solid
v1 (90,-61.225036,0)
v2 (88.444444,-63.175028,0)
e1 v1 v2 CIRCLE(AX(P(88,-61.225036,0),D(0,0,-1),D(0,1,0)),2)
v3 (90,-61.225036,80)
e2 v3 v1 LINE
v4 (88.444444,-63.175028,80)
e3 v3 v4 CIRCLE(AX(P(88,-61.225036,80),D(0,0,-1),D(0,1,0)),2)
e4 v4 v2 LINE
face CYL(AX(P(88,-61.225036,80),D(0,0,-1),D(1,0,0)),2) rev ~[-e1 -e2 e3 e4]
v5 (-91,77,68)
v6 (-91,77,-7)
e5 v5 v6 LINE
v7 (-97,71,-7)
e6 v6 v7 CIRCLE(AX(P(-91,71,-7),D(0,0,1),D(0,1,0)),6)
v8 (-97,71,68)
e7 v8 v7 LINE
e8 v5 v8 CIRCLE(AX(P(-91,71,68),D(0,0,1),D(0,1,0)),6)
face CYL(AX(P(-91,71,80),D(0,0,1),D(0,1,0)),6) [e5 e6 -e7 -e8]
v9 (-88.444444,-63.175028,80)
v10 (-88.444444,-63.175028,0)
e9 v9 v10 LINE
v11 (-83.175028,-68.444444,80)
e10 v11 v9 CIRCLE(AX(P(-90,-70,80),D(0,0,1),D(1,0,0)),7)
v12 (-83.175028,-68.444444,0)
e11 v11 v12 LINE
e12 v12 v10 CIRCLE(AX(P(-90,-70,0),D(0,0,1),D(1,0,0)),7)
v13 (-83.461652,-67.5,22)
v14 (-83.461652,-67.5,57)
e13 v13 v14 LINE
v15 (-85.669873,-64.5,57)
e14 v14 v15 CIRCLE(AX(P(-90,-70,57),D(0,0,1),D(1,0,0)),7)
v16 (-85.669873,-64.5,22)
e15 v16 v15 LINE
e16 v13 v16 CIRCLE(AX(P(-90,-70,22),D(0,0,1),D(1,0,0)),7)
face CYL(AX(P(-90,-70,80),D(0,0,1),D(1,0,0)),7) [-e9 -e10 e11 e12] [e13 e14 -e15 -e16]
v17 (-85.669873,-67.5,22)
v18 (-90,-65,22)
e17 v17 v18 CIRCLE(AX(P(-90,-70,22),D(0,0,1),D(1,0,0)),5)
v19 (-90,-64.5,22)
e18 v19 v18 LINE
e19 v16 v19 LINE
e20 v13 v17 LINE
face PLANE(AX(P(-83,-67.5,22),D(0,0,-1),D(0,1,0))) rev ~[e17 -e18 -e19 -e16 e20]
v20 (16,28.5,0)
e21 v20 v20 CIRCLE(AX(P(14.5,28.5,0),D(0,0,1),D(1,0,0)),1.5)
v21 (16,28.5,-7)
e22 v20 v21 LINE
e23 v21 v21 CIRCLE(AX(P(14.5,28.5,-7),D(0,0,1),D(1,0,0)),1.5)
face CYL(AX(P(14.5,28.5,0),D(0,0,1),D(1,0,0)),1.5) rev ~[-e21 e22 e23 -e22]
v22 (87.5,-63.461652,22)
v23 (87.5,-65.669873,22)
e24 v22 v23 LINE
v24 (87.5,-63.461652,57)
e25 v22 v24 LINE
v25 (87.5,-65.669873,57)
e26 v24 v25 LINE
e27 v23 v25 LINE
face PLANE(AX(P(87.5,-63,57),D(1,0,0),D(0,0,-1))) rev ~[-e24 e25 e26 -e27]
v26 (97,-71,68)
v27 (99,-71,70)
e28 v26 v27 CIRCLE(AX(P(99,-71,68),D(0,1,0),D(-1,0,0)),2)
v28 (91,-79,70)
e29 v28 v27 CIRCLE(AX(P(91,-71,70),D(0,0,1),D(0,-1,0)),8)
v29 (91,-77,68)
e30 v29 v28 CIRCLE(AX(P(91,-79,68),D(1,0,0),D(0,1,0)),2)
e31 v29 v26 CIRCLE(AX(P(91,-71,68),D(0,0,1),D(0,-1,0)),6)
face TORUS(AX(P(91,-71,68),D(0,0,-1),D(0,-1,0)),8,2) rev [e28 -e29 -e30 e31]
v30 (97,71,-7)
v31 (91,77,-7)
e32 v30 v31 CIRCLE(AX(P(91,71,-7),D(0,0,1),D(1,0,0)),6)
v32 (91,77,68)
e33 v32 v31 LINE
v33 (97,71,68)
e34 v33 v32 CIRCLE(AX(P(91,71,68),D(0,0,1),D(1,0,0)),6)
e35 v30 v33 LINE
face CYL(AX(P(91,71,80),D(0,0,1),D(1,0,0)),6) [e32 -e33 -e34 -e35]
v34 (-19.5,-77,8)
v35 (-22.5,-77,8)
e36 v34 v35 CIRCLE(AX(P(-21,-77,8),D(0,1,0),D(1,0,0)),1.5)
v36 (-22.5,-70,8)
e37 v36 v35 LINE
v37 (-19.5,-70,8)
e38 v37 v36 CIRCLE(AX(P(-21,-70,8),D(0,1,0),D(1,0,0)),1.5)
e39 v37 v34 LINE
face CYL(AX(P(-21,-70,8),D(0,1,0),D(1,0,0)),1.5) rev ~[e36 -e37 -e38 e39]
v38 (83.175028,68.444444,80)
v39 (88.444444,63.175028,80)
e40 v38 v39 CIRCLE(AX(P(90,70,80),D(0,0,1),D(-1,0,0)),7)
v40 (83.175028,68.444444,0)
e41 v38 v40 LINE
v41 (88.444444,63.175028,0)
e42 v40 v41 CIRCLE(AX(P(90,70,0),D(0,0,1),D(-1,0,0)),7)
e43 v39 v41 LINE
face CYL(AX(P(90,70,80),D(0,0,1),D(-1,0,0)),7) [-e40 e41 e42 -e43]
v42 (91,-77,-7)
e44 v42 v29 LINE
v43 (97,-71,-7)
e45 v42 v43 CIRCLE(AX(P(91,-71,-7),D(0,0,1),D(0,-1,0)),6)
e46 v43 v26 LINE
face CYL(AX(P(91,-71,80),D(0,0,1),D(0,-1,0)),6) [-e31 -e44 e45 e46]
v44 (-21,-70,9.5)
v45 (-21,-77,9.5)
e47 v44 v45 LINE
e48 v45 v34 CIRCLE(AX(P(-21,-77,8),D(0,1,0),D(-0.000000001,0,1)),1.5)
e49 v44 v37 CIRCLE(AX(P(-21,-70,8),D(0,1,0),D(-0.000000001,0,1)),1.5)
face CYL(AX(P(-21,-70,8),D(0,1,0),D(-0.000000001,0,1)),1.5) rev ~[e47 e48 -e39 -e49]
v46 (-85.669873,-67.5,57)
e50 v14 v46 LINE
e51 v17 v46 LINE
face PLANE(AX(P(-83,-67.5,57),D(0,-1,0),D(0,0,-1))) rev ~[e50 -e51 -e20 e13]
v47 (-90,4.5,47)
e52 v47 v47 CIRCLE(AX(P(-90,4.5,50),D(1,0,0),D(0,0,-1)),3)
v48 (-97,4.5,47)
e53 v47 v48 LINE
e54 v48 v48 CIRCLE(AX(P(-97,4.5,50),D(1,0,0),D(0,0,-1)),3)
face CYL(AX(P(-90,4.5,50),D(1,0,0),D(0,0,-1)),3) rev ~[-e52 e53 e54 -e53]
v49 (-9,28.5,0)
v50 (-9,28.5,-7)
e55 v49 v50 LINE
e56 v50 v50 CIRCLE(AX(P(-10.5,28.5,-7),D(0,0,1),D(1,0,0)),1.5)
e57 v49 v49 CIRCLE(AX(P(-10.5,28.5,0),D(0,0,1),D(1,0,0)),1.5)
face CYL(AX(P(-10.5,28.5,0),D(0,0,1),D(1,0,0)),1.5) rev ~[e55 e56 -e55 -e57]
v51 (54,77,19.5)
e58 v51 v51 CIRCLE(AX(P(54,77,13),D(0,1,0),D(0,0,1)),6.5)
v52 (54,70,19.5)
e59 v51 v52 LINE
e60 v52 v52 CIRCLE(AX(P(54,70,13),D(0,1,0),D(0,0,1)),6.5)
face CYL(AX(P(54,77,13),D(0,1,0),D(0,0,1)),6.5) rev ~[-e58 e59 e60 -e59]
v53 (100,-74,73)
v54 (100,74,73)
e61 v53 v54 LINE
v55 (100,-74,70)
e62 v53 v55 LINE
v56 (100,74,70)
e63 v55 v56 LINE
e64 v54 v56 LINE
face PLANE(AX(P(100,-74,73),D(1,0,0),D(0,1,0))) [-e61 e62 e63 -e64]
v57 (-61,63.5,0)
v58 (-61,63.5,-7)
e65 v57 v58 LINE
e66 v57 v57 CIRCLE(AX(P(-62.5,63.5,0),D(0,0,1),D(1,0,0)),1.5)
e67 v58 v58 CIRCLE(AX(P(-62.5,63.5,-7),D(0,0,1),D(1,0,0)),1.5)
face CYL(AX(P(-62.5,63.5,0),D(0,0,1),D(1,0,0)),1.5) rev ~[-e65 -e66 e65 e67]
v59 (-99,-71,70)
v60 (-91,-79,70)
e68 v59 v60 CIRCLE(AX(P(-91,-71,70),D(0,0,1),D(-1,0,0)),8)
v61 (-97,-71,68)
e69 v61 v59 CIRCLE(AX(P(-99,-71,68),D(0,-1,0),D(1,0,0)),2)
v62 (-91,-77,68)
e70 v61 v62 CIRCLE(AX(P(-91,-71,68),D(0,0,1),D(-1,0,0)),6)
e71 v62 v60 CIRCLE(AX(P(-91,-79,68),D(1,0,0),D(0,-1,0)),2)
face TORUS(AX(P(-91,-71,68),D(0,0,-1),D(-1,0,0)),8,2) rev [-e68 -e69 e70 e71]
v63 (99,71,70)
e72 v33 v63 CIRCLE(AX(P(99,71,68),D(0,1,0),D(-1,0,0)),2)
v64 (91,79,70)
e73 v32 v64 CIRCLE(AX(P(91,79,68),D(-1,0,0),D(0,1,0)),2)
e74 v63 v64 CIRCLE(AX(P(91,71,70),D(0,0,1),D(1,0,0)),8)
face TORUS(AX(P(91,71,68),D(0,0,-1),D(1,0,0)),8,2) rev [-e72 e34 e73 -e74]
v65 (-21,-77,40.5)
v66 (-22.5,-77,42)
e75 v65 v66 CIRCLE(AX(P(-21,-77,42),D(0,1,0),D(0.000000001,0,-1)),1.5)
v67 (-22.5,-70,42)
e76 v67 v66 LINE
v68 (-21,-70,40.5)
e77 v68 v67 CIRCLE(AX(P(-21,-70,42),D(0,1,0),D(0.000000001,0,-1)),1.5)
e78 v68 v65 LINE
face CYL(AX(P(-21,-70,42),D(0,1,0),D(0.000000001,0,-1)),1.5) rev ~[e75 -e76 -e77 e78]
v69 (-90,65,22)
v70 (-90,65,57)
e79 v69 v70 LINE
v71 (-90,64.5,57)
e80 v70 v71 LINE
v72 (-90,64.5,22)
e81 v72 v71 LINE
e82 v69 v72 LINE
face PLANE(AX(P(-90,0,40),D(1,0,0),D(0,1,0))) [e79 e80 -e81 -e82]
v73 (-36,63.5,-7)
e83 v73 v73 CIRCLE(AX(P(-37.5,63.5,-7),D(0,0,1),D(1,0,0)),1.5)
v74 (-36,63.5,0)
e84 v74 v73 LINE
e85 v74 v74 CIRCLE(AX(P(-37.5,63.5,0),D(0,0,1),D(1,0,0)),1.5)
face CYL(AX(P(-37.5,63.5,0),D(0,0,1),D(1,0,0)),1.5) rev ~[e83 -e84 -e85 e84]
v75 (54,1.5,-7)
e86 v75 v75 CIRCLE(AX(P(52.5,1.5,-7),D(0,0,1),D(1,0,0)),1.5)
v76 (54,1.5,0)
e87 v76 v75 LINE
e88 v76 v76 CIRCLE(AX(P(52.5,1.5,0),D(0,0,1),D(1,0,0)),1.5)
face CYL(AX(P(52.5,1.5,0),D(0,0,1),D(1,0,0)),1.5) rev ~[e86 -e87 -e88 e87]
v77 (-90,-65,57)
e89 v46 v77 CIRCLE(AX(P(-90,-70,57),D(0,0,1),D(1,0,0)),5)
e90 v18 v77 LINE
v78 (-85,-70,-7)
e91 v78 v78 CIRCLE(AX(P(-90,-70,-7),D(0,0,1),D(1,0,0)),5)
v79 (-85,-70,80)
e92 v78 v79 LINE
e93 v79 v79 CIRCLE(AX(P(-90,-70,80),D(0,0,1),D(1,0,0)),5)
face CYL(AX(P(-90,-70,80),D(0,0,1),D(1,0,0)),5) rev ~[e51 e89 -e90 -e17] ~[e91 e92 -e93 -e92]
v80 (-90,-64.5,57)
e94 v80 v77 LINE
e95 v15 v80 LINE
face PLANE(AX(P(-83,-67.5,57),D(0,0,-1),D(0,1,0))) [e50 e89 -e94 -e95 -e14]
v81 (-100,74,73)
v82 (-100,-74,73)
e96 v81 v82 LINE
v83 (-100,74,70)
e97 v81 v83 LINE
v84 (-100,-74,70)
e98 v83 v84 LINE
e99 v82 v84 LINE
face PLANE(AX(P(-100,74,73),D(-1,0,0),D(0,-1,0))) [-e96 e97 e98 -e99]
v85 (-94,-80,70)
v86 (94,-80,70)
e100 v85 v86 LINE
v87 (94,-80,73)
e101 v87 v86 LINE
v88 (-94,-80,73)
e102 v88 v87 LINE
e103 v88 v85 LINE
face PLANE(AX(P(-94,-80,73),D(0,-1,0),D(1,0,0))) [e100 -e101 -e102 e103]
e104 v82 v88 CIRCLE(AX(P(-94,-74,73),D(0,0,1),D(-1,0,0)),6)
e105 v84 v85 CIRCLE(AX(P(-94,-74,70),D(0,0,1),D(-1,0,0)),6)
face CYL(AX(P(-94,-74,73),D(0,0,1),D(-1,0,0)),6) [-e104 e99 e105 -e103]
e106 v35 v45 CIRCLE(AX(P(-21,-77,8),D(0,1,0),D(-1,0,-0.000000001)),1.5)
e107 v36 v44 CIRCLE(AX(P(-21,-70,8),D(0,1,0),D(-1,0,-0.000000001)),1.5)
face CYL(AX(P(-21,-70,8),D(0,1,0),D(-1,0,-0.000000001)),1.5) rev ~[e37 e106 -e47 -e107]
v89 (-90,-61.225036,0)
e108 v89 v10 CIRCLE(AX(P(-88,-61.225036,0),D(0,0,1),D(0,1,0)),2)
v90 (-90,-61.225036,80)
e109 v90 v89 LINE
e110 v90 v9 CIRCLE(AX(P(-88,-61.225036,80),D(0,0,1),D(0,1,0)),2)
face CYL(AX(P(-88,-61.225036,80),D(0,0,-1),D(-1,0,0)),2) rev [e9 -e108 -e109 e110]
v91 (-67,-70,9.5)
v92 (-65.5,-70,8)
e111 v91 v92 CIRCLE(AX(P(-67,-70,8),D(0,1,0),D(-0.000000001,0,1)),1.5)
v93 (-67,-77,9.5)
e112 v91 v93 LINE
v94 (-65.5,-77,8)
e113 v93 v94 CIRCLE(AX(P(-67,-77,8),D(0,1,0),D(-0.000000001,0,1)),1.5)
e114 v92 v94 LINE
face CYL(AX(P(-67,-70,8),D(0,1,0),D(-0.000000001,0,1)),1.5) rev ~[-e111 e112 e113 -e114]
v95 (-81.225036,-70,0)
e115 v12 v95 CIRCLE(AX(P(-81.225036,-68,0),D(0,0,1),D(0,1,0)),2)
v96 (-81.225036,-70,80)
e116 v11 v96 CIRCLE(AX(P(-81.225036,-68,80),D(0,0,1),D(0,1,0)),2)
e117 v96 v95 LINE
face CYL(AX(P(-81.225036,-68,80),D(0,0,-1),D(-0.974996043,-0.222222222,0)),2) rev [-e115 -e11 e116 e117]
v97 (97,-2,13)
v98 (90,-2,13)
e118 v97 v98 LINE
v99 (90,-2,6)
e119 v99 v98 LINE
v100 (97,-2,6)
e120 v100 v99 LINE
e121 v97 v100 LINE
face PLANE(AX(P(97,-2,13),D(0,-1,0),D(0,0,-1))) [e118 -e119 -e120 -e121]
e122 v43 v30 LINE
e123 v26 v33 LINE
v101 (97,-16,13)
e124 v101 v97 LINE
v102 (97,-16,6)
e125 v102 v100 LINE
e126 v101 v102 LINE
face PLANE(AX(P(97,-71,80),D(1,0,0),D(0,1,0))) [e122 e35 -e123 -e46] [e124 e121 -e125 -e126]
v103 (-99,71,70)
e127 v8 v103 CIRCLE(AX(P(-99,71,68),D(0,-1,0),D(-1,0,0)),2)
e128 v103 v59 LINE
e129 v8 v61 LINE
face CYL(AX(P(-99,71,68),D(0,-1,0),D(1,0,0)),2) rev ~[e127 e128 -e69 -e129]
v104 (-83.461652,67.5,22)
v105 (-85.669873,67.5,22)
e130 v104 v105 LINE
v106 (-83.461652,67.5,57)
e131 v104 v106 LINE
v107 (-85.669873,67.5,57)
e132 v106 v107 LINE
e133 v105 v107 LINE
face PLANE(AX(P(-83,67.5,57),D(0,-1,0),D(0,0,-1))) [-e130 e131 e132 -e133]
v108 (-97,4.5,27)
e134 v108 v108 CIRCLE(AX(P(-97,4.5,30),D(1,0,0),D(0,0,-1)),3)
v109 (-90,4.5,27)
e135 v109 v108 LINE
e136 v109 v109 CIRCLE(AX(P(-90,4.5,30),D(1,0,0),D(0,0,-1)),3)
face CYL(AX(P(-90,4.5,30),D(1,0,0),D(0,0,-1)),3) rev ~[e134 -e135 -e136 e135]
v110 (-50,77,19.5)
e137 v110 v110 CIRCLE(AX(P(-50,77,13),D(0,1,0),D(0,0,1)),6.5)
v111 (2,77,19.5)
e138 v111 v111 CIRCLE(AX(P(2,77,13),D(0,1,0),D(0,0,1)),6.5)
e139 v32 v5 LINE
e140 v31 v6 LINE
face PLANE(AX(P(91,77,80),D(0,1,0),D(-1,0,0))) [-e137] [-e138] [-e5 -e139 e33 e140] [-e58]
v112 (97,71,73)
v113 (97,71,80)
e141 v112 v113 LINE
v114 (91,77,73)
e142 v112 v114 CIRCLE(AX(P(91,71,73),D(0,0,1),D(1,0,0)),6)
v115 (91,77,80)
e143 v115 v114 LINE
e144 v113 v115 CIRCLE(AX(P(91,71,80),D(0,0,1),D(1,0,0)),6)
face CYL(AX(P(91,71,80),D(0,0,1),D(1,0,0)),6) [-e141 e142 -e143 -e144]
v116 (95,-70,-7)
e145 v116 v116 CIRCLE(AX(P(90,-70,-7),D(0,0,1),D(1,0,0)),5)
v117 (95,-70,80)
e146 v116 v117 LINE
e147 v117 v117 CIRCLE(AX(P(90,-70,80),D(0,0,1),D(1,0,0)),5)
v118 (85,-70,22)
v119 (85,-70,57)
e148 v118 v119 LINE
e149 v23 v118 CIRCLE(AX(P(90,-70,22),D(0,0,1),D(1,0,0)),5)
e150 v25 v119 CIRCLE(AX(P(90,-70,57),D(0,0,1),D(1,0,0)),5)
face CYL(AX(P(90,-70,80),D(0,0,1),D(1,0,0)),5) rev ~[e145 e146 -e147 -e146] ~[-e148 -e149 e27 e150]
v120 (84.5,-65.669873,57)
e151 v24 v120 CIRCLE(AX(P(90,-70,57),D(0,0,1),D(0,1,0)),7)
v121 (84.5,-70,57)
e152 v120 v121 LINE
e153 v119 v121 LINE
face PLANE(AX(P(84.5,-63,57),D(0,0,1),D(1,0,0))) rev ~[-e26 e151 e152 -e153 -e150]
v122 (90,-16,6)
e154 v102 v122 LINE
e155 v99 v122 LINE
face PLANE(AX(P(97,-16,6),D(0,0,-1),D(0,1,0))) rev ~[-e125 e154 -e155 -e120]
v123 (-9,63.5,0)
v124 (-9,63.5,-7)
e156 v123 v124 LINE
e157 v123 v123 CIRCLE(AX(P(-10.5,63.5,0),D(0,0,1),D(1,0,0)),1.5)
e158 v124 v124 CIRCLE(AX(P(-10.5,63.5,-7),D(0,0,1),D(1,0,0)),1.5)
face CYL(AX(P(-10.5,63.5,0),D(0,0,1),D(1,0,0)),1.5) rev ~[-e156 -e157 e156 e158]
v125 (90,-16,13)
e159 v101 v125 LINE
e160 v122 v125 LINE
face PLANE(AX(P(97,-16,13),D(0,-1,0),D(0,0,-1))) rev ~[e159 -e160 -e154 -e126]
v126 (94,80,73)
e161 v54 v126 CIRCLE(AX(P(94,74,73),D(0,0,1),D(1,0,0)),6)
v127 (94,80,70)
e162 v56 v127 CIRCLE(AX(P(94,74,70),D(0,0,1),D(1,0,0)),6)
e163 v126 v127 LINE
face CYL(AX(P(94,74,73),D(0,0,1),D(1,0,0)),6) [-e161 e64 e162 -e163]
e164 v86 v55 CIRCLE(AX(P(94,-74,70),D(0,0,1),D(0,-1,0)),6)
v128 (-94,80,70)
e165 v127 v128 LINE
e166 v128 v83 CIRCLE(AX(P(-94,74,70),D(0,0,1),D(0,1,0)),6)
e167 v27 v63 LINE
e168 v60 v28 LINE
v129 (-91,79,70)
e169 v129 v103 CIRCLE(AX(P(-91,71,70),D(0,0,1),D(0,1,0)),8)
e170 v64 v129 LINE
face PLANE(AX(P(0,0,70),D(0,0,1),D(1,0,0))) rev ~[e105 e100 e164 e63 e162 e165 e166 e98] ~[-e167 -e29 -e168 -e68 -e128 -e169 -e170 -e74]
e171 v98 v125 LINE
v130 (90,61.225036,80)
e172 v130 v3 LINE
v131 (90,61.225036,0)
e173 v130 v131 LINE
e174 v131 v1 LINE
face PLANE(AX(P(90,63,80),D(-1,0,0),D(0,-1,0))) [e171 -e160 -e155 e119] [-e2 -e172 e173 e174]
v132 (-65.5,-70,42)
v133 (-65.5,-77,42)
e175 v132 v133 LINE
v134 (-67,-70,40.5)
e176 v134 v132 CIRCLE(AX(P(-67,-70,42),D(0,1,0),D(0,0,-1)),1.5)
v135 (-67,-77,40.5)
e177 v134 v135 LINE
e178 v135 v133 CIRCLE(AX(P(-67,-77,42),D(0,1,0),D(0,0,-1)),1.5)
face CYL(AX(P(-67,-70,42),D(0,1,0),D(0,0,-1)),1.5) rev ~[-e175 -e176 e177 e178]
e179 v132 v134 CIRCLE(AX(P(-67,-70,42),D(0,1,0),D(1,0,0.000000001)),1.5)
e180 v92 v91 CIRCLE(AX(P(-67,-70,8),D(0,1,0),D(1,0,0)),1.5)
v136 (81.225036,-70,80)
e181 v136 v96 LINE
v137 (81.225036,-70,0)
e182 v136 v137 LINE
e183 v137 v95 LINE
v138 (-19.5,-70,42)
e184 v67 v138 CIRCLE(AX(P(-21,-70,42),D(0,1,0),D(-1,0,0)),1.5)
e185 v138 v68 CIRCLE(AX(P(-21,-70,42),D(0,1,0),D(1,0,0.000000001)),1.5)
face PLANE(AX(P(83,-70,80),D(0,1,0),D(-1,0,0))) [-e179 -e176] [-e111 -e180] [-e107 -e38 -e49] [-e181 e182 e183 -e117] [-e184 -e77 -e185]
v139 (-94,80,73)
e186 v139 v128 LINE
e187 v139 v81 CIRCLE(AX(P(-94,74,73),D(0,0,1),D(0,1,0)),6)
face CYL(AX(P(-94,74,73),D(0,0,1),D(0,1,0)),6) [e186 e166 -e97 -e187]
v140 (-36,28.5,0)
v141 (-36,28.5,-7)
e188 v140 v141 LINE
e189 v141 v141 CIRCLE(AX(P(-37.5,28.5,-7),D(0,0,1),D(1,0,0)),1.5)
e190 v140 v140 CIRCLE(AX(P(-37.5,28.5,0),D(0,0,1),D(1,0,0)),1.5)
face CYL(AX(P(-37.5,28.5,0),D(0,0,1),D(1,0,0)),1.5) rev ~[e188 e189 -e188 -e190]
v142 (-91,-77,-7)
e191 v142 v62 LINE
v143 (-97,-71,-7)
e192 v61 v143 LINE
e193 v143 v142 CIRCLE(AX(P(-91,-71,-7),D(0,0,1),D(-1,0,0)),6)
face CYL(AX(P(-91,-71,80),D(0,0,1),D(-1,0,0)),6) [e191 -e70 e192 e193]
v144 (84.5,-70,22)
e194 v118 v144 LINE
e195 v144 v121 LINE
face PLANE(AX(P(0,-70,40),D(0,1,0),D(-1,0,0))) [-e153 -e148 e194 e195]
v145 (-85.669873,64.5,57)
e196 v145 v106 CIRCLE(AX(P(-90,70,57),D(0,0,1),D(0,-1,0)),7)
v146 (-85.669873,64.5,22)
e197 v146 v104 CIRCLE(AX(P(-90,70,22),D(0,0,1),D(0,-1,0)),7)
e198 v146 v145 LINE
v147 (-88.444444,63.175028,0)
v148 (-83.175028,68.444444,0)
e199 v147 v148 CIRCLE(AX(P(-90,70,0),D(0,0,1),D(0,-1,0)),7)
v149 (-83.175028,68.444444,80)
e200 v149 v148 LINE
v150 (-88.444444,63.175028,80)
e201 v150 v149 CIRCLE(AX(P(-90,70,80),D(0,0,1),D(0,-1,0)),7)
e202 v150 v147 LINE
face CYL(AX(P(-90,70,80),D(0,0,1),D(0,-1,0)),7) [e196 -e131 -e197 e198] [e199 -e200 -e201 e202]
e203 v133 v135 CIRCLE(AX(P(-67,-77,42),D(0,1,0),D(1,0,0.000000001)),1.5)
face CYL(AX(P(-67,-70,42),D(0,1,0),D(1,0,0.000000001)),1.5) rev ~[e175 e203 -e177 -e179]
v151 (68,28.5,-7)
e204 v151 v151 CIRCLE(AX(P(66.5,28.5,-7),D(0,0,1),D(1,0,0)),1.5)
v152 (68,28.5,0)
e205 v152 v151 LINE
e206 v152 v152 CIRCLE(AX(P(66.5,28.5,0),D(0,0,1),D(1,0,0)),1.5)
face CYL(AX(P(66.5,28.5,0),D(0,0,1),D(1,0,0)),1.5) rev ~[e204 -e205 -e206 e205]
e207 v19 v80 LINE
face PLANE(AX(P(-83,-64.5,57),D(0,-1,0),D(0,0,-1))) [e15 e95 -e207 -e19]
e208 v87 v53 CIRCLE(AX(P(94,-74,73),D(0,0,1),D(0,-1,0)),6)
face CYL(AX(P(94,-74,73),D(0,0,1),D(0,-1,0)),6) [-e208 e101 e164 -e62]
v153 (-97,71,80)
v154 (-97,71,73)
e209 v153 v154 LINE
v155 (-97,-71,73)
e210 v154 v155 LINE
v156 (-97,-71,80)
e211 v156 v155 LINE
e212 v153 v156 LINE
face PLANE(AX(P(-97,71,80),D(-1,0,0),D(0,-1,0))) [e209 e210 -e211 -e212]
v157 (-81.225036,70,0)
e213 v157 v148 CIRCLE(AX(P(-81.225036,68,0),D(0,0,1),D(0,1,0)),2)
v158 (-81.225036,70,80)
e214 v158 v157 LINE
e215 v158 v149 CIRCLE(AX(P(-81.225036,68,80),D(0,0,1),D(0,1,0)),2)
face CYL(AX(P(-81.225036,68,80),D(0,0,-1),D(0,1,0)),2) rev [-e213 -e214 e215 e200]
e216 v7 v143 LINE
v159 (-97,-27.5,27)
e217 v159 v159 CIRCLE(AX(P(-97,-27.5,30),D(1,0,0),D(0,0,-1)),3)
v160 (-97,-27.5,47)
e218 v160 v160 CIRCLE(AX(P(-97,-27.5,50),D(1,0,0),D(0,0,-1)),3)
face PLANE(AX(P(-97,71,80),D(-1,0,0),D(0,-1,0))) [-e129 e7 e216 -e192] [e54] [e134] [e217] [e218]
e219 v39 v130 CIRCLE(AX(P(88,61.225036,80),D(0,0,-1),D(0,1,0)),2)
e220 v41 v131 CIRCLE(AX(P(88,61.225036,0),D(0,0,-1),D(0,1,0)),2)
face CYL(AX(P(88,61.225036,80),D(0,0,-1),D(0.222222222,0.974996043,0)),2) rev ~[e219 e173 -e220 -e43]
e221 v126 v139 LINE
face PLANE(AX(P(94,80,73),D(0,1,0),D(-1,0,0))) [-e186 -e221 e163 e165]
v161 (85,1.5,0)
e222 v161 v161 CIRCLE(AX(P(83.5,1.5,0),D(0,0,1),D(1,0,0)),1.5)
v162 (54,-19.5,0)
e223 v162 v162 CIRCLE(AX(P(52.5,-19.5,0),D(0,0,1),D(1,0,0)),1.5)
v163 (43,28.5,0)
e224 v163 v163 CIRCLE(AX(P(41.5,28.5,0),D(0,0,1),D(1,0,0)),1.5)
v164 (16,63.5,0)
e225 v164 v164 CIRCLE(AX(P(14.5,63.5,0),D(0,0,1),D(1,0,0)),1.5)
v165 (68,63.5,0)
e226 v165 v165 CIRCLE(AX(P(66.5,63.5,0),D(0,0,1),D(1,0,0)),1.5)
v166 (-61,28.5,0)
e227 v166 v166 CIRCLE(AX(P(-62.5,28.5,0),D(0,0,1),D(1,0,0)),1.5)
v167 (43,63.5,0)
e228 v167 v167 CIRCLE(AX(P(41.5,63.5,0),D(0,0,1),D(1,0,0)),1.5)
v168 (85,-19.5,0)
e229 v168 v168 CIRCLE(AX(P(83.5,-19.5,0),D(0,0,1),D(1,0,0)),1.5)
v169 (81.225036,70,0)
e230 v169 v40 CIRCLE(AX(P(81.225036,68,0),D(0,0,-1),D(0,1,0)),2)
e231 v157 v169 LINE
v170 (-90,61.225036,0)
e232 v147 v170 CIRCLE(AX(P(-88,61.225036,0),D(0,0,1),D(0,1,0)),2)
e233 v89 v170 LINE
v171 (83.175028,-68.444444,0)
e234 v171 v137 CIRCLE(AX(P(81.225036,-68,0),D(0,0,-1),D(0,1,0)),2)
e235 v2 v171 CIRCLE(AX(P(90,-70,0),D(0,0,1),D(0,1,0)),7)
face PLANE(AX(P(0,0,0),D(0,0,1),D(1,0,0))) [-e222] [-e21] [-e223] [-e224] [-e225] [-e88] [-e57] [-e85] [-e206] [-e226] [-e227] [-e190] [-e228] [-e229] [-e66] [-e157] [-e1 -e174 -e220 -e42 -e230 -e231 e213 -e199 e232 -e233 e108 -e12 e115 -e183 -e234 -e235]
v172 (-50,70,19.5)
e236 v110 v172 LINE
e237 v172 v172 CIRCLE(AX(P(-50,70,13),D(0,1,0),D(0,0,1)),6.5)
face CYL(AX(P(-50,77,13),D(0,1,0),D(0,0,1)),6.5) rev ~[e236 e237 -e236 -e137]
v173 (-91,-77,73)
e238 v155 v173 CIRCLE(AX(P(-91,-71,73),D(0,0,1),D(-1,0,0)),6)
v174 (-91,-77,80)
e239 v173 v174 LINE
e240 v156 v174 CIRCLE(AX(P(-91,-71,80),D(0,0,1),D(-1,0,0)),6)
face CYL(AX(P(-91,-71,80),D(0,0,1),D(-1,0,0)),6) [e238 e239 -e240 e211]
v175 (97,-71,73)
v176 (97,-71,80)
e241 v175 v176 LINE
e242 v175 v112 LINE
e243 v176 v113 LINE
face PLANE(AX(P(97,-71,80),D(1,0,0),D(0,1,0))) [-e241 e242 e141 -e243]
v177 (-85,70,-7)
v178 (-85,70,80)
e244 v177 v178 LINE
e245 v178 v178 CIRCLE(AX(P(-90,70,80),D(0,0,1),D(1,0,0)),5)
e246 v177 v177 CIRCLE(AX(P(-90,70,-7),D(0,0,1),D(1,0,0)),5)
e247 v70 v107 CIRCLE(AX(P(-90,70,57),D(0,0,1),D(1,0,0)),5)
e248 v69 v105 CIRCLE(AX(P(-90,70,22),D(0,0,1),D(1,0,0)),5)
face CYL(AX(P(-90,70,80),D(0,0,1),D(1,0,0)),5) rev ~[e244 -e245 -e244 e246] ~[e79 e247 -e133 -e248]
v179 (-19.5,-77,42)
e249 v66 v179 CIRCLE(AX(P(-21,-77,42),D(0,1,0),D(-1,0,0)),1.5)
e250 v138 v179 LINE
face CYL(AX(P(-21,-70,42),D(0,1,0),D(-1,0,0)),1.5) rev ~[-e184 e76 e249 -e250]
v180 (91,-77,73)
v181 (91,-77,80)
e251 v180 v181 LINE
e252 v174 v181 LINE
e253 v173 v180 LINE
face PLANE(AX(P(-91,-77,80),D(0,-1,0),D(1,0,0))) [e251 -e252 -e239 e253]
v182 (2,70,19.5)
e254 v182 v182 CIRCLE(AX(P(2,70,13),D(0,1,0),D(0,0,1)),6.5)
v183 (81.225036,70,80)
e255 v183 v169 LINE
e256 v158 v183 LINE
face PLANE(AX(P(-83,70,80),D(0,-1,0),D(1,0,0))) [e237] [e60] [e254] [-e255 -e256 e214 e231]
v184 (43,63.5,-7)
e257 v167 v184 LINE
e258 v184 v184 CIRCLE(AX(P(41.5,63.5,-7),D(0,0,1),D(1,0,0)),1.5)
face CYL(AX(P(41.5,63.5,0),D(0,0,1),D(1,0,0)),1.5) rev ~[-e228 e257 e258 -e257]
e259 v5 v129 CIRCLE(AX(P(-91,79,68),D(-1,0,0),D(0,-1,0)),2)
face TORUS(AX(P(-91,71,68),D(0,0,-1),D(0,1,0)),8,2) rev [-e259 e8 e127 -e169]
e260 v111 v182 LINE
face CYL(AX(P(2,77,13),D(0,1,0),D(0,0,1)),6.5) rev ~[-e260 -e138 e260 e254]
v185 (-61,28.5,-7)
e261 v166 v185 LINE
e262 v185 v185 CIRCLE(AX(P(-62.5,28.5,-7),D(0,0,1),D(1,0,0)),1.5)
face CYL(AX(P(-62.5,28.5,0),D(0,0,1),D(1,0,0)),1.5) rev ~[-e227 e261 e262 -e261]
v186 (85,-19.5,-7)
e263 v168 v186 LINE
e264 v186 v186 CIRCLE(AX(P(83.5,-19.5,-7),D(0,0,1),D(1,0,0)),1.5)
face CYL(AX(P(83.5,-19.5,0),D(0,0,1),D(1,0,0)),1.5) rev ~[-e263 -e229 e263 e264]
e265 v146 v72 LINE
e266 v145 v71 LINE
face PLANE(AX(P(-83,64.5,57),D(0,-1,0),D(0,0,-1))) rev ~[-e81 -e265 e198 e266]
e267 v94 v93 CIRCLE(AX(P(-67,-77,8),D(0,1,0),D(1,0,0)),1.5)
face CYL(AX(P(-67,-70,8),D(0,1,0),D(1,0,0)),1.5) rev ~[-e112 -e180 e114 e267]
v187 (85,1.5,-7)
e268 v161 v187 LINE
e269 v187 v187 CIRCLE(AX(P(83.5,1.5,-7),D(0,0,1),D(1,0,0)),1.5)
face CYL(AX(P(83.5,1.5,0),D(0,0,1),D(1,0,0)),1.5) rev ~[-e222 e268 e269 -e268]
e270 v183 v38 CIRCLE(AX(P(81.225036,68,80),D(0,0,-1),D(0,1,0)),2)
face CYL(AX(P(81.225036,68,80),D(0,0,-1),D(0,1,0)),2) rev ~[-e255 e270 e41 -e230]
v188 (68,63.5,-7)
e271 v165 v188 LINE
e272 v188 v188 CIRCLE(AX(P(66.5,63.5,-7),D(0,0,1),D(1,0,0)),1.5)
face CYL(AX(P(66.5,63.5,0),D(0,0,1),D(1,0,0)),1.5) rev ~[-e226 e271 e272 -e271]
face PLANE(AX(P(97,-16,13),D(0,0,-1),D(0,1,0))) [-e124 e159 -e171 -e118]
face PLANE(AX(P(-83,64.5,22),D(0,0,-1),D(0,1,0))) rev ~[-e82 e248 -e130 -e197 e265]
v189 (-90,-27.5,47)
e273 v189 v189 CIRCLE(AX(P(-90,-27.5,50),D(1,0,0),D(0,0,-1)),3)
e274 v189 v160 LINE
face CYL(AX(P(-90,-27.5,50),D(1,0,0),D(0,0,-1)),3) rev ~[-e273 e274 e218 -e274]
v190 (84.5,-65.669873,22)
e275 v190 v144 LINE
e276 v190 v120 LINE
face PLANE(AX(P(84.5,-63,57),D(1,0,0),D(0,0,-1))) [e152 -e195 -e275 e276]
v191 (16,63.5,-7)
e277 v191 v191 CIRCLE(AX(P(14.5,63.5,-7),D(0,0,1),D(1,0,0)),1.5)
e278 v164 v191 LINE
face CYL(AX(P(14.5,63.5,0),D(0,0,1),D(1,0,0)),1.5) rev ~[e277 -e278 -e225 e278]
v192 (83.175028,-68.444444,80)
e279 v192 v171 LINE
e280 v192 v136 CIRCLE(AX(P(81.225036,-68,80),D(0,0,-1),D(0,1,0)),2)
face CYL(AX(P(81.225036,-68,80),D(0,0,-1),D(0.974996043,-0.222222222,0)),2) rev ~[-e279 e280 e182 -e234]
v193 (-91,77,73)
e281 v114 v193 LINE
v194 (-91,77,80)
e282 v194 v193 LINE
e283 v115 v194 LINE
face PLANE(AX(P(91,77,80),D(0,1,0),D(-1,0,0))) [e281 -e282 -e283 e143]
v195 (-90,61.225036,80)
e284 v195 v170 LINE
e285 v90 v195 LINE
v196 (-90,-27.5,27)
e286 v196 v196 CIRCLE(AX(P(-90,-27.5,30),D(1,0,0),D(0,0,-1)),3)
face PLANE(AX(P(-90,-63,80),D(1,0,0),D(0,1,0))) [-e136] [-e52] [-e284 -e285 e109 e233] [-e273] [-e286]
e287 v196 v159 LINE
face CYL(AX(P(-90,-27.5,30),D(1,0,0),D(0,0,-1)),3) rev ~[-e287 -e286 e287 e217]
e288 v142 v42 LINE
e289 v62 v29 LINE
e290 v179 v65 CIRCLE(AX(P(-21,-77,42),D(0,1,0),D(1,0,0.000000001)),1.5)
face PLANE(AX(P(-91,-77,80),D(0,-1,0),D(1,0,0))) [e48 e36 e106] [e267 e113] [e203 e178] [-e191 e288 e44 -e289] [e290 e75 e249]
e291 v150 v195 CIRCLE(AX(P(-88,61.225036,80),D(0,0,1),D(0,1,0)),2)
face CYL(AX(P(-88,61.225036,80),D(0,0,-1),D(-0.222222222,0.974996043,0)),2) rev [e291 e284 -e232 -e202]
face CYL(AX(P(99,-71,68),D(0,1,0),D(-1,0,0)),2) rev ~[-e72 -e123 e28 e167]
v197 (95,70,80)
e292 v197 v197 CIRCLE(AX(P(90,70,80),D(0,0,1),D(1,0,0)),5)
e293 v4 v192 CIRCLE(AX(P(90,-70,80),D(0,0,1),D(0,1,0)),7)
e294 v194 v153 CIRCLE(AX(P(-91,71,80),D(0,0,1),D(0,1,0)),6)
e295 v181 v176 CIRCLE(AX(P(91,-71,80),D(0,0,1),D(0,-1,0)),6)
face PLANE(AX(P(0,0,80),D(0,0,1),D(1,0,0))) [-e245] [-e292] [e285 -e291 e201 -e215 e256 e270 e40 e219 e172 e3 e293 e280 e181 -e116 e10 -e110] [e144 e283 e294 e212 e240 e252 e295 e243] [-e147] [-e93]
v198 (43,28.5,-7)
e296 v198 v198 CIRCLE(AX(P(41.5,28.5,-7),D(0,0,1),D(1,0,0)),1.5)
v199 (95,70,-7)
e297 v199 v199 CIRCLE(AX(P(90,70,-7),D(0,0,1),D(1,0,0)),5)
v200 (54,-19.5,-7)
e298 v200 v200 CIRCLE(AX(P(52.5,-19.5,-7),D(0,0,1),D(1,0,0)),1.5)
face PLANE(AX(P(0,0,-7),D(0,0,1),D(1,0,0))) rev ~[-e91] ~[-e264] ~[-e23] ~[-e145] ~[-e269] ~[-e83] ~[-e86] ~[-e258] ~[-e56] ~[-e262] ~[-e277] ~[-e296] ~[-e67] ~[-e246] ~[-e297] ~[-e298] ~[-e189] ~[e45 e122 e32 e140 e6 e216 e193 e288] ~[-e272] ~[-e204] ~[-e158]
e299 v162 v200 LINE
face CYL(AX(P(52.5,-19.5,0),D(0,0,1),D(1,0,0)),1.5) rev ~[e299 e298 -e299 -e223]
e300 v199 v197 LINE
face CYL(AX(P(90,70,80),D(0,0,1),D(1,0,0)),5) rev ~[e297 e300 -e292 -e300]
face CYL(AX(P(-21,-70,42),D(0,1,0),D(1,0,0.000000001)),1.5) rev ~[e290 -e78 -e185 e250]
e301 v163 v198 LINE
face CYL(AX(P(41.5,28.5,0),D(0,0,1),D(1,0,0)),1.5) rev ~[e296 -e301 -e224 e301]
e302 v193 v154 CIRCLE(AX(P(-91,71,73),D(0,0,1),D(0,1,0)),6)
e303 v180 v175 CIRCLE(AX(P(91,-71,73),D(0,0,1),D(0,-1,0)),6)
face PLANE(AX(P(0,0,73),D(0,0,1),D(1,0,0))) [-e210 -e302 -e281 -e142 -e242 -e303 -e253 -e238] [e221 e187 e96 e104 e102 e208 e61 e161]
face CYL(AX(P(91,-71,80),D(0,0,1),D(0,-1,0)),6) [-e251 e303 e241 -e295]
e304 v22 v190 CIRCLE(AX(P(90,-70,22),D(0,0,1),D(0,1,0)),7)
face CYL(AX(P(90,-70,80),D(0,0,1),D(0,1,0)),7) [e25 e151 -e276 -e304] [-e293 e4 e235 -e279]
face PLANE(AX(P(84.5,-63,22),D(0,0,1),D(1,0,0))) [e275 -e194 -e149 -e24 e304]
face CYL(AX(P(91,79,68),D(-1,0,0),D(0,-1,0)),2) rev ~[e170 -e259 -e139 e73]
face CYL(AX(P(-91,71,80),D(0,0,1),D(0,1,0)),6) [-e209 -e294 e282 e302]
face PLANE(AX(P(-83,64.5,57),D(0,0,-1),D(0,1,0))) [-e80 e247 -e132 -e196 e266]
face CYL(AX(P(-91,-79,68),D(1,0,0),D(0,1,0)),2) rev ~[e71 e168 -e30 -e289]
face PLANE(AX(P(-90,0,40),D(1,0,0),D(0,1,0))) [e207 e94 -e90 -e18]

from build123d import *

# Parameters (mm, degrees)
ESQUISSE1_R             = 5
BOSS_EXTRU_1_DEPTH      = 7
BOSS_EXTRU_2_START      = 80
ESQUISSE1_4_R           = 5
BOSS_EXTRU_2_DEPTH      = 80
CONG_1_R                = 2
ESQUISSE2_R             = 1.5
ENL_V_MAT_EXTRU_1_DEPTH = 80
ESQUISSE4_R             = 6.5
ENL_V_MAT_EXTRU_2_DEPTH = 10
ESQUISSE5_W             = 7
ESQUISSE5_H             = 14
ENL_V_MAT_EXTRU_3_DEPTH = 10
ENL_V_MAT_EXTRU_4_REACH = 213.492
ESQUISSE6_W             = 35
ESQUISSE6_H             = 3
ENL_V_MAT_EXTRU_5_REACH = 190.173
ESQUISSE7_W             = 3
ESQUISSE7_H             = 35
ENL_V_MAT_EXTRU_6_DEPTH = 10
BOSS_EXTRU_3_START      = 73
BOSS_EXTRU_3_DEPTH      = 3
CONG_2_R                = 2
ESQUISSE11_R            = 3
ENL_V_MAT_EXTRU_7_DEPTH = 10


with BuildPart() as part:
    # Esquisse1 → Boss.-Extru.1 (new body)
    with BuildSketch(Plane.XY):
        with BuildLine():
            Line((-91, -77), (91, -77))
            ThreePointArc((91, -77), (95.242640687, -75.242640687), (97, -71))
            Line((97, -71), (97, 71))
            ThreePointArc((97, 71), (95.242640687, 75.242640687), (91, 77))
            Line((91, 77), (-91, 77))
            ThreePointArc((-91, 77), (-95.242640687, 75.242640687), (-97, 71))
            Line((-97, 71), (-97, -71))
            ThreePointArc((-97, -71), (-95.242640687, -75.242640687), (-91, -77))
        make_face()
        with Locations((90, -70)):
            Circle(ESQUISSE1_R, mode=Mode.SUBTRACT)
        with Locations((90, 70)):
            Circle(ESQUISSE1_R, mode=Mode.SUBTRACT)
        with Locations((-90, 70)):
            Circle(ESQUISSE1_R, mode=Mode.SUBTRACT)
        with Locations((-90, -70)):
            Circle(ESQUISSE1_R, mode=Mode.SUBTRACT)
    extrude(amount=-BOSS_EXTRU_1_DEPTH)

    # Esquisse1<4> → Boss.-Extru.2 (add)
    with BuildSketch(Plane.XY.offset(BOSS_EXTRU_2_START)):
        with BuildLine():
            ThreePointArc((-97, -71), (-95.242640687, -75.242640687), (-91, -77))
            Line((-91, -77), (91, -77))
            ThreePointArc((91, -77), (95.242640687, -75.242640687), (97, -71))
            Line((97, -71), (97, 71))
            ThreePointArc((97, 71), (95.242640687, 75.242640687), (91, 77))
            Line((91, 77), (-91, 77))
            ThreePointArc((-91, 77), (-95.242640687, 75.242640687), (-97, 71))
            Line((-97, 71), (-97, -71))
        make_face()
        with Locations((-90, -70)):
            Circle(ESQUISSE1_4_R, mode=Mode.SUBTRACT)
        with BuildLine():
            ThreePointArc((-83, -70), (-85.050252532, -65.050252532), (-90, -63))
            Line((-90, -63), (-90, 63))
            ThreePointArc((-90, 63), (-85.050252532, 65.050252532), (-83, 70))
            Line((-83, 70), (83, 70))
            ThreePointArc((83, 70), (85.050252532, 65.050252532), (90, 63))
            Line((90, 63), (90, -63))
            ThreePointArc((90, -63), (85.050252532, -65.050252532), (83, -70))
            Line((83, -70), (-83, -70))
        make_face(mode=Mode.SUBTRACT)
        with Locations((90, -70)):
            Circle(ESQUISSE1_4_R, mode=Mode.SUBTRACT)
        with Locations((90, 70)):
            Circle(ESQUISSE1_4_R, mode=Mode.SUBTRACT)
        with Locations((-90, 70)):
            Circle(ESQUISSE1_4_R, mode=Mode.SUBTRACT)
    extrude(amount=-BOSS_EXTRU_2_DEPTH)

    # Congé1
    cong_1_edges = [part.edges().sort_by_distance(p)[0] for p in [
        (-83, -70, 40),
        (-90, -63, 40),
        (-90, 63, 40),
        (-83, 70, 40),
        (83, 70, 40),
        (90, 63, 40),
        (90, -63, 40),
        (83, -70, 40),
    ]]
    fillet(cong_1_edges, radius=CONG_1_R)

    # Esquisse2 → Enlèv. mat.-Extru.1 (cut)
    with BuildSketch(Plane.XY):
        with Locations((66.5, 28.5)):
            Circle(ESQUISSE2_R)
        with Locations((66.5, 63.5)):
            Circle(ESQUISSE2_R)
        with Locations((41.5, 63.5)):
            Circle(ESQUISSE2_R)
        with Locations((41.5, 28.5)):
            Circle(ESQUISSE2_R)
        with Locations((-10.5, 28.5)):
            Circle(ESQUISSE2_R)
        with Locations((14.5, 28.5)):
            Circle(ESQUISSE2_R)
        with Locations((-10.5, 63.5)):
            Circle(ESQUISSE2_R)
        with Locations((14.5, 63.5)):
            Circle(ESQUISSE2_R)
        with Locations((-62.5, 28.5)):
            Circle(ESQUISSE2_R)
        with Locations((-37.5, 28.5)):
            Circle(ESQUISSE2_R)
        with Locations((-62.5, 63.5)):
            Circle(ESQUISSE2_R)
        with Locations((-37.5, 63.5)):
            Circle(ESQUISSE2_R)
        with Locations((52.5, 1.5)):
            Circle(ESQUISSE2_R)
        with Locations((83.5, 1.5)):
            Circle(ESQUISSE2_R)
        with Locations((52.5, -19.5)):
            Circle(ESQUISSE2_R)
        with Locations((83.5, -19.5)):
            Circle(ESQUISSE2_R)
    extrude(amount=-ENL_V_MAT_EXTRU_1_DEPTH, mode=Mode.SUBTRACT)

    # Esquisse4 → Enlèv. mat.-Extru.2 (cut)
    with BuildSketch(Plane(origin=(0, 77, 0), x_dir=(1, 0, 0), z_dir=(0, 1, 0))):
        with Locations(Location((-50, -13, 0), (0, 0, 270))):
            Circle(ESQUISSE4_R)
        with Locations(Location((2, -13, 0), (0, 0, 270))):
            Circle(ESQUISSE4_R)
        with Locations(Location((54, -13, 0), (0, 0, 270))):
            Circle(ESQUISSE4_R)
    extrude(amount=-ENL_V_MAT_EXTRU_2_DEPTH, mode=Mode.SUBTRACT)

    # Esquisse5 → Enlèv. mat.-Extru.3 (cut)
    with BuildSketch(Plane(origin=(97, 0, 0), x_dir=(0, 0, -1), z_dir=(1, 0, 0))):
        with Locations((-9.5, -9)):
            Rectangle(ESQUISSE5_W, ESQUISSE5_H)
    extrude(amount=-ENL_V_MAT_EXTRU_3_DEPTH, mode=Mode.SUBTRACT)

    # Enlèv. mat.-Extru.4: up to this face of the body (flat: up to its plane)
    enl_v_mat_extru_4_end = Plane(part.part.faces().sort_by_distance((-90, 0, 40))[0])
    # Esquisse6 → Enlèv. mat.-Extru.4 (cut, up to the picked face)
    with BuildSketch(Plane(origin=(-83, 0, 0), x_dir=(0, 0, -1), z_dir=(1, 0, 0)), mode=Mode.PRIVATE) as enl_v_mat_extru_4_sk1:
        with Locations((-39.5, 66)):
            Rectangle(ESQUISSE6_W, ESQUISSE6_H)
    enl_v_mat_extru_4_tool1 = split(extrude(enl_v_mat_extru_4_sk1.sketch, amount=-ENL_V_MAT_EXTRU_4_REACH, mode=Mode.PRIVATE), bisect_by=enl_v_mat_extru_4_end, keep=Keep.BOTH, mode=Mode.PRIVATE)
    # Esquisse6 → Enlèv. mat.-Extru.4 (cut, up to the picked face)
    with BuildSketch(Plane(origin=(-83, 0, 0), x_dir=(0, 0, -1), z_dir=(1, 0, 0)), mode=Mode.PRIVATE) as enl_v_mat_extru_4_sk2:
        with Locations((-39.5, -66)):
            Rectangle(ESQUISSE6_W, ESQUISSE6_H)
    enl_v_mat_extru_4_tool2 = split(extrude(enl_v_mat_extru_4_sk2.sketch, amount=-ENL_V_MAT_EXTRU_4_REACH, mode=Mode.PRIVATE), bisect_by=enl_v_mat_extru_4_end, keep=Keep.BOTH, mode=Mode.PRIVATE)
    add(enl_v_mat_extru_4_tool1.solids().sort_by(Axis((-83, 66, 39.5), (-1, 0, 0)))[0], mode=Mode.SUBTRACT)
    add(enl_v_mat_extru_4_tool2.solids().sort_by(Axis((-83, -66, 39.5), (-1, 0, 0)))[0], mode=Mode.SUBTRACT)

    # Enlèv. mat.-Extru.5: up to this face of the body (flat: up to its plane)
    enl_v_mat_extru_5_end = Plane(part.part.faces().sort_by_distance((0, -70, 40))[0])
    # Esquisse7 → Enlèv. mat.-Extru.5 (cut, up to the picked face)
    with BuildSketch(Plane(origin=(0, -63, 0), x_dir=(1, 0, 0), z_dir=(0, 1, 0)), mode=Mode.PRIVATE) as enl_v_mat_extru_5_sk1:
        with Locations((86, -39.5)):
            Rectangle(ESQUISSE7_W, ESQUISSE7_H)
    enl_v_mat_extru_5_tool1 = split(extrude(enl_v_mat_extru_5_sk1.sketch, amount=-ENL_V_MAT_EXTRU_5_REACH, mode=Mode.PRIVATE), bisect_by=enl_v_mat_extru_5_end, keep=Keep.BOTH, mode=Mode.PRIVATE)
    add(enl_v_mat_extru_5_tool1.solids().sort_by(Axis((86, -63, 39.5), (0, -1, 0)))[0], mode=Mode.SUBTRACT)

    # Esquisse8 → Enlèv. mat.-Extru.6 (cut)
    with BuildSketch(Plane(origin=(0, -70, 0), x_dir=(1, 0, 0), z_dir=(0, 1, 0))):
        with BuildLine():
            ThreePointArc((-65.5, -42), (-65.939339828, -40.939339828), (-67, -40.5))
            Line((-67, -40.5), (-67, -42))
            Line((-67, -42), (-65.5, -42))
        make_face()
        with BuildLine():
            Line((-67, -42), (-67, -40.5))
            ThreePointArc((-67, -40.5), (-68.060660172, -43.060660172), (-65.5, -42))
            Line((-65.5, -42), (-67, -42))
        make_face()
        with BuildLine():
            Line((-67, -9.5), (-67, -8))
            Line((-67, -8), (-65.5, -8))
            ThreePointArc((-65.5, -8), (-68.060660172, -6.939339828), (-67, -9.5))
        make_face()
        with BuildLine():
            Line((-65.5, -8), (-67, -8))
            Line((-67, -8), (-67, -9.5))
            ThreePointArc((-67, -9.5), (-65.939339828, -9.060660172), (-65.5, -8))
        make_face()
        with BuildLine():
            ThreePointArc((-19.5, -8), (-21, -6.5), (-22.5, -8))
            Line((-22.5, -8), (-21, -8))
            Line((-21, -8), (-21, -9.5))
            ThreePointArc((-21, -9.5), (-19.939339828, -9.060660172), (-19.5, -8))
        make_face()
        with BuildLine():
            Line((-21, -8), (-22.5, -8))
            ThreePointArc((-22.5, -8), (-22.060660172, -9.060660172), (-21, -9.5))
            Line((-21, -9.5), (-21, -8))
        make_face()
        with BuildLine():
            ThreePointArc((-19.5, -42), (-19.939339828, -40.939339828), (-21, -40.5))
            Line((-21, -40.5), (-21, -42))
            Line((-21, -42), (-22.5, -42))
            ThreePointArc((-22.5, -42), (-21, -43.5), (-19.5, -42))
        make_face()
        with BuildLine():
            Line((-21, -42), (-21, -40.5))
            ThreePointArc((-21, -40.5), (-22.060660172, -40.939339828), (-22.5, -42))
            Line((-22.5, -42), (-21, -42))
        make_face()
    extrude(amount=-ENL_V_MAT_EXTRU_6_DEPTH, mode=Mode.SUBTRACT)

    # Esquisse10 → Boss.-Extru.3 (add)
    with BuildSketch(Plane.XY.offset(BOSS_EXTRU_3_START)):
        with BuildLine():
            Line((-94, -80), (94, -80))
            ThreePointArc((94, -80), (98.242640687, -78.242640687), (100, -74))
            Line((100, -74), (100, 74))
            ThreePointArc((100, 74), (98.242640687, 78.242640687), (94, 80))
            Line((94, 80), (-94, 80))
            ThreePointArc((-94, 80), (-98.242640687, 78.242640687), (-100, 74))
            Line((-100, 74), (-100, -74))
            ThreePointArc((-100, -74), (-98.242640687, -78.242640687), (-94, -80))
        make_face()
        with BuildLine():
            Line((-91, -77), (91, -77))
            ThreePointArc((91, -77), (95.242640687, -75.242640687), (97, -71))
            Line((97, -71), (97, 71))
            ThreePointArc((97, 71), (95.242640687, 75.242640687), (91, 77))
            Line((91, 77), (-91, 77))
            ThreePointArc((-91, 77), (-95.242640687, 75.242640687), (-97, 71))
            Line((-97, 71), (-97, -71))
            ThreePointArc((-97, -71), (-95.242640687, -75.242640687), (-91, -77))
        make_face(mode=Mode.SUBTRACT)
    extrude(amount=-BOSS_EXTRU_3_DEPTH)

    # Congé2
    cong_2_edges = [part.edges().sort_by_distance(p)[0] for p in [
        (97, 0, 70),
        (95.242640687, 75.242640687, 70),
        (0, 77, 70),
        (-95.242640687, 75.242640687, 70),
        (-97, 0, 70),
        (-95.242640687, -75.242640687, 70),
        (0, -77, 70),
        (95.242640687, -75.242640687, 70),
    ]]
    fillet(cong_2_edges, radius=CONG_2_R)

    # Esquisse11 → Enlèv. mat.-Extru.7 (cut)
    with BuildSketch(Plane(origin=(-90, 0, 0), x_dir=(0, 0, -1), z_dir=(1, 0, 0))):
        with Locations((-50, -27.5)):
            Circle(ESQUISSE11_R)
        with Locations((-50, 4.5)):
            Circle(ESQUISSE11_R)
        with Locations((-30, 4.5)):
            Circle(ESQUISSE11_R)
        with Locations((-30, -27.5)):
            Circle(ESQUISSE11_R)
    extrude(amount=-ENL_V_MAT_EXTRU_7_DEPTH, mode=Mode.SUBTRACT)


solid = part.part
